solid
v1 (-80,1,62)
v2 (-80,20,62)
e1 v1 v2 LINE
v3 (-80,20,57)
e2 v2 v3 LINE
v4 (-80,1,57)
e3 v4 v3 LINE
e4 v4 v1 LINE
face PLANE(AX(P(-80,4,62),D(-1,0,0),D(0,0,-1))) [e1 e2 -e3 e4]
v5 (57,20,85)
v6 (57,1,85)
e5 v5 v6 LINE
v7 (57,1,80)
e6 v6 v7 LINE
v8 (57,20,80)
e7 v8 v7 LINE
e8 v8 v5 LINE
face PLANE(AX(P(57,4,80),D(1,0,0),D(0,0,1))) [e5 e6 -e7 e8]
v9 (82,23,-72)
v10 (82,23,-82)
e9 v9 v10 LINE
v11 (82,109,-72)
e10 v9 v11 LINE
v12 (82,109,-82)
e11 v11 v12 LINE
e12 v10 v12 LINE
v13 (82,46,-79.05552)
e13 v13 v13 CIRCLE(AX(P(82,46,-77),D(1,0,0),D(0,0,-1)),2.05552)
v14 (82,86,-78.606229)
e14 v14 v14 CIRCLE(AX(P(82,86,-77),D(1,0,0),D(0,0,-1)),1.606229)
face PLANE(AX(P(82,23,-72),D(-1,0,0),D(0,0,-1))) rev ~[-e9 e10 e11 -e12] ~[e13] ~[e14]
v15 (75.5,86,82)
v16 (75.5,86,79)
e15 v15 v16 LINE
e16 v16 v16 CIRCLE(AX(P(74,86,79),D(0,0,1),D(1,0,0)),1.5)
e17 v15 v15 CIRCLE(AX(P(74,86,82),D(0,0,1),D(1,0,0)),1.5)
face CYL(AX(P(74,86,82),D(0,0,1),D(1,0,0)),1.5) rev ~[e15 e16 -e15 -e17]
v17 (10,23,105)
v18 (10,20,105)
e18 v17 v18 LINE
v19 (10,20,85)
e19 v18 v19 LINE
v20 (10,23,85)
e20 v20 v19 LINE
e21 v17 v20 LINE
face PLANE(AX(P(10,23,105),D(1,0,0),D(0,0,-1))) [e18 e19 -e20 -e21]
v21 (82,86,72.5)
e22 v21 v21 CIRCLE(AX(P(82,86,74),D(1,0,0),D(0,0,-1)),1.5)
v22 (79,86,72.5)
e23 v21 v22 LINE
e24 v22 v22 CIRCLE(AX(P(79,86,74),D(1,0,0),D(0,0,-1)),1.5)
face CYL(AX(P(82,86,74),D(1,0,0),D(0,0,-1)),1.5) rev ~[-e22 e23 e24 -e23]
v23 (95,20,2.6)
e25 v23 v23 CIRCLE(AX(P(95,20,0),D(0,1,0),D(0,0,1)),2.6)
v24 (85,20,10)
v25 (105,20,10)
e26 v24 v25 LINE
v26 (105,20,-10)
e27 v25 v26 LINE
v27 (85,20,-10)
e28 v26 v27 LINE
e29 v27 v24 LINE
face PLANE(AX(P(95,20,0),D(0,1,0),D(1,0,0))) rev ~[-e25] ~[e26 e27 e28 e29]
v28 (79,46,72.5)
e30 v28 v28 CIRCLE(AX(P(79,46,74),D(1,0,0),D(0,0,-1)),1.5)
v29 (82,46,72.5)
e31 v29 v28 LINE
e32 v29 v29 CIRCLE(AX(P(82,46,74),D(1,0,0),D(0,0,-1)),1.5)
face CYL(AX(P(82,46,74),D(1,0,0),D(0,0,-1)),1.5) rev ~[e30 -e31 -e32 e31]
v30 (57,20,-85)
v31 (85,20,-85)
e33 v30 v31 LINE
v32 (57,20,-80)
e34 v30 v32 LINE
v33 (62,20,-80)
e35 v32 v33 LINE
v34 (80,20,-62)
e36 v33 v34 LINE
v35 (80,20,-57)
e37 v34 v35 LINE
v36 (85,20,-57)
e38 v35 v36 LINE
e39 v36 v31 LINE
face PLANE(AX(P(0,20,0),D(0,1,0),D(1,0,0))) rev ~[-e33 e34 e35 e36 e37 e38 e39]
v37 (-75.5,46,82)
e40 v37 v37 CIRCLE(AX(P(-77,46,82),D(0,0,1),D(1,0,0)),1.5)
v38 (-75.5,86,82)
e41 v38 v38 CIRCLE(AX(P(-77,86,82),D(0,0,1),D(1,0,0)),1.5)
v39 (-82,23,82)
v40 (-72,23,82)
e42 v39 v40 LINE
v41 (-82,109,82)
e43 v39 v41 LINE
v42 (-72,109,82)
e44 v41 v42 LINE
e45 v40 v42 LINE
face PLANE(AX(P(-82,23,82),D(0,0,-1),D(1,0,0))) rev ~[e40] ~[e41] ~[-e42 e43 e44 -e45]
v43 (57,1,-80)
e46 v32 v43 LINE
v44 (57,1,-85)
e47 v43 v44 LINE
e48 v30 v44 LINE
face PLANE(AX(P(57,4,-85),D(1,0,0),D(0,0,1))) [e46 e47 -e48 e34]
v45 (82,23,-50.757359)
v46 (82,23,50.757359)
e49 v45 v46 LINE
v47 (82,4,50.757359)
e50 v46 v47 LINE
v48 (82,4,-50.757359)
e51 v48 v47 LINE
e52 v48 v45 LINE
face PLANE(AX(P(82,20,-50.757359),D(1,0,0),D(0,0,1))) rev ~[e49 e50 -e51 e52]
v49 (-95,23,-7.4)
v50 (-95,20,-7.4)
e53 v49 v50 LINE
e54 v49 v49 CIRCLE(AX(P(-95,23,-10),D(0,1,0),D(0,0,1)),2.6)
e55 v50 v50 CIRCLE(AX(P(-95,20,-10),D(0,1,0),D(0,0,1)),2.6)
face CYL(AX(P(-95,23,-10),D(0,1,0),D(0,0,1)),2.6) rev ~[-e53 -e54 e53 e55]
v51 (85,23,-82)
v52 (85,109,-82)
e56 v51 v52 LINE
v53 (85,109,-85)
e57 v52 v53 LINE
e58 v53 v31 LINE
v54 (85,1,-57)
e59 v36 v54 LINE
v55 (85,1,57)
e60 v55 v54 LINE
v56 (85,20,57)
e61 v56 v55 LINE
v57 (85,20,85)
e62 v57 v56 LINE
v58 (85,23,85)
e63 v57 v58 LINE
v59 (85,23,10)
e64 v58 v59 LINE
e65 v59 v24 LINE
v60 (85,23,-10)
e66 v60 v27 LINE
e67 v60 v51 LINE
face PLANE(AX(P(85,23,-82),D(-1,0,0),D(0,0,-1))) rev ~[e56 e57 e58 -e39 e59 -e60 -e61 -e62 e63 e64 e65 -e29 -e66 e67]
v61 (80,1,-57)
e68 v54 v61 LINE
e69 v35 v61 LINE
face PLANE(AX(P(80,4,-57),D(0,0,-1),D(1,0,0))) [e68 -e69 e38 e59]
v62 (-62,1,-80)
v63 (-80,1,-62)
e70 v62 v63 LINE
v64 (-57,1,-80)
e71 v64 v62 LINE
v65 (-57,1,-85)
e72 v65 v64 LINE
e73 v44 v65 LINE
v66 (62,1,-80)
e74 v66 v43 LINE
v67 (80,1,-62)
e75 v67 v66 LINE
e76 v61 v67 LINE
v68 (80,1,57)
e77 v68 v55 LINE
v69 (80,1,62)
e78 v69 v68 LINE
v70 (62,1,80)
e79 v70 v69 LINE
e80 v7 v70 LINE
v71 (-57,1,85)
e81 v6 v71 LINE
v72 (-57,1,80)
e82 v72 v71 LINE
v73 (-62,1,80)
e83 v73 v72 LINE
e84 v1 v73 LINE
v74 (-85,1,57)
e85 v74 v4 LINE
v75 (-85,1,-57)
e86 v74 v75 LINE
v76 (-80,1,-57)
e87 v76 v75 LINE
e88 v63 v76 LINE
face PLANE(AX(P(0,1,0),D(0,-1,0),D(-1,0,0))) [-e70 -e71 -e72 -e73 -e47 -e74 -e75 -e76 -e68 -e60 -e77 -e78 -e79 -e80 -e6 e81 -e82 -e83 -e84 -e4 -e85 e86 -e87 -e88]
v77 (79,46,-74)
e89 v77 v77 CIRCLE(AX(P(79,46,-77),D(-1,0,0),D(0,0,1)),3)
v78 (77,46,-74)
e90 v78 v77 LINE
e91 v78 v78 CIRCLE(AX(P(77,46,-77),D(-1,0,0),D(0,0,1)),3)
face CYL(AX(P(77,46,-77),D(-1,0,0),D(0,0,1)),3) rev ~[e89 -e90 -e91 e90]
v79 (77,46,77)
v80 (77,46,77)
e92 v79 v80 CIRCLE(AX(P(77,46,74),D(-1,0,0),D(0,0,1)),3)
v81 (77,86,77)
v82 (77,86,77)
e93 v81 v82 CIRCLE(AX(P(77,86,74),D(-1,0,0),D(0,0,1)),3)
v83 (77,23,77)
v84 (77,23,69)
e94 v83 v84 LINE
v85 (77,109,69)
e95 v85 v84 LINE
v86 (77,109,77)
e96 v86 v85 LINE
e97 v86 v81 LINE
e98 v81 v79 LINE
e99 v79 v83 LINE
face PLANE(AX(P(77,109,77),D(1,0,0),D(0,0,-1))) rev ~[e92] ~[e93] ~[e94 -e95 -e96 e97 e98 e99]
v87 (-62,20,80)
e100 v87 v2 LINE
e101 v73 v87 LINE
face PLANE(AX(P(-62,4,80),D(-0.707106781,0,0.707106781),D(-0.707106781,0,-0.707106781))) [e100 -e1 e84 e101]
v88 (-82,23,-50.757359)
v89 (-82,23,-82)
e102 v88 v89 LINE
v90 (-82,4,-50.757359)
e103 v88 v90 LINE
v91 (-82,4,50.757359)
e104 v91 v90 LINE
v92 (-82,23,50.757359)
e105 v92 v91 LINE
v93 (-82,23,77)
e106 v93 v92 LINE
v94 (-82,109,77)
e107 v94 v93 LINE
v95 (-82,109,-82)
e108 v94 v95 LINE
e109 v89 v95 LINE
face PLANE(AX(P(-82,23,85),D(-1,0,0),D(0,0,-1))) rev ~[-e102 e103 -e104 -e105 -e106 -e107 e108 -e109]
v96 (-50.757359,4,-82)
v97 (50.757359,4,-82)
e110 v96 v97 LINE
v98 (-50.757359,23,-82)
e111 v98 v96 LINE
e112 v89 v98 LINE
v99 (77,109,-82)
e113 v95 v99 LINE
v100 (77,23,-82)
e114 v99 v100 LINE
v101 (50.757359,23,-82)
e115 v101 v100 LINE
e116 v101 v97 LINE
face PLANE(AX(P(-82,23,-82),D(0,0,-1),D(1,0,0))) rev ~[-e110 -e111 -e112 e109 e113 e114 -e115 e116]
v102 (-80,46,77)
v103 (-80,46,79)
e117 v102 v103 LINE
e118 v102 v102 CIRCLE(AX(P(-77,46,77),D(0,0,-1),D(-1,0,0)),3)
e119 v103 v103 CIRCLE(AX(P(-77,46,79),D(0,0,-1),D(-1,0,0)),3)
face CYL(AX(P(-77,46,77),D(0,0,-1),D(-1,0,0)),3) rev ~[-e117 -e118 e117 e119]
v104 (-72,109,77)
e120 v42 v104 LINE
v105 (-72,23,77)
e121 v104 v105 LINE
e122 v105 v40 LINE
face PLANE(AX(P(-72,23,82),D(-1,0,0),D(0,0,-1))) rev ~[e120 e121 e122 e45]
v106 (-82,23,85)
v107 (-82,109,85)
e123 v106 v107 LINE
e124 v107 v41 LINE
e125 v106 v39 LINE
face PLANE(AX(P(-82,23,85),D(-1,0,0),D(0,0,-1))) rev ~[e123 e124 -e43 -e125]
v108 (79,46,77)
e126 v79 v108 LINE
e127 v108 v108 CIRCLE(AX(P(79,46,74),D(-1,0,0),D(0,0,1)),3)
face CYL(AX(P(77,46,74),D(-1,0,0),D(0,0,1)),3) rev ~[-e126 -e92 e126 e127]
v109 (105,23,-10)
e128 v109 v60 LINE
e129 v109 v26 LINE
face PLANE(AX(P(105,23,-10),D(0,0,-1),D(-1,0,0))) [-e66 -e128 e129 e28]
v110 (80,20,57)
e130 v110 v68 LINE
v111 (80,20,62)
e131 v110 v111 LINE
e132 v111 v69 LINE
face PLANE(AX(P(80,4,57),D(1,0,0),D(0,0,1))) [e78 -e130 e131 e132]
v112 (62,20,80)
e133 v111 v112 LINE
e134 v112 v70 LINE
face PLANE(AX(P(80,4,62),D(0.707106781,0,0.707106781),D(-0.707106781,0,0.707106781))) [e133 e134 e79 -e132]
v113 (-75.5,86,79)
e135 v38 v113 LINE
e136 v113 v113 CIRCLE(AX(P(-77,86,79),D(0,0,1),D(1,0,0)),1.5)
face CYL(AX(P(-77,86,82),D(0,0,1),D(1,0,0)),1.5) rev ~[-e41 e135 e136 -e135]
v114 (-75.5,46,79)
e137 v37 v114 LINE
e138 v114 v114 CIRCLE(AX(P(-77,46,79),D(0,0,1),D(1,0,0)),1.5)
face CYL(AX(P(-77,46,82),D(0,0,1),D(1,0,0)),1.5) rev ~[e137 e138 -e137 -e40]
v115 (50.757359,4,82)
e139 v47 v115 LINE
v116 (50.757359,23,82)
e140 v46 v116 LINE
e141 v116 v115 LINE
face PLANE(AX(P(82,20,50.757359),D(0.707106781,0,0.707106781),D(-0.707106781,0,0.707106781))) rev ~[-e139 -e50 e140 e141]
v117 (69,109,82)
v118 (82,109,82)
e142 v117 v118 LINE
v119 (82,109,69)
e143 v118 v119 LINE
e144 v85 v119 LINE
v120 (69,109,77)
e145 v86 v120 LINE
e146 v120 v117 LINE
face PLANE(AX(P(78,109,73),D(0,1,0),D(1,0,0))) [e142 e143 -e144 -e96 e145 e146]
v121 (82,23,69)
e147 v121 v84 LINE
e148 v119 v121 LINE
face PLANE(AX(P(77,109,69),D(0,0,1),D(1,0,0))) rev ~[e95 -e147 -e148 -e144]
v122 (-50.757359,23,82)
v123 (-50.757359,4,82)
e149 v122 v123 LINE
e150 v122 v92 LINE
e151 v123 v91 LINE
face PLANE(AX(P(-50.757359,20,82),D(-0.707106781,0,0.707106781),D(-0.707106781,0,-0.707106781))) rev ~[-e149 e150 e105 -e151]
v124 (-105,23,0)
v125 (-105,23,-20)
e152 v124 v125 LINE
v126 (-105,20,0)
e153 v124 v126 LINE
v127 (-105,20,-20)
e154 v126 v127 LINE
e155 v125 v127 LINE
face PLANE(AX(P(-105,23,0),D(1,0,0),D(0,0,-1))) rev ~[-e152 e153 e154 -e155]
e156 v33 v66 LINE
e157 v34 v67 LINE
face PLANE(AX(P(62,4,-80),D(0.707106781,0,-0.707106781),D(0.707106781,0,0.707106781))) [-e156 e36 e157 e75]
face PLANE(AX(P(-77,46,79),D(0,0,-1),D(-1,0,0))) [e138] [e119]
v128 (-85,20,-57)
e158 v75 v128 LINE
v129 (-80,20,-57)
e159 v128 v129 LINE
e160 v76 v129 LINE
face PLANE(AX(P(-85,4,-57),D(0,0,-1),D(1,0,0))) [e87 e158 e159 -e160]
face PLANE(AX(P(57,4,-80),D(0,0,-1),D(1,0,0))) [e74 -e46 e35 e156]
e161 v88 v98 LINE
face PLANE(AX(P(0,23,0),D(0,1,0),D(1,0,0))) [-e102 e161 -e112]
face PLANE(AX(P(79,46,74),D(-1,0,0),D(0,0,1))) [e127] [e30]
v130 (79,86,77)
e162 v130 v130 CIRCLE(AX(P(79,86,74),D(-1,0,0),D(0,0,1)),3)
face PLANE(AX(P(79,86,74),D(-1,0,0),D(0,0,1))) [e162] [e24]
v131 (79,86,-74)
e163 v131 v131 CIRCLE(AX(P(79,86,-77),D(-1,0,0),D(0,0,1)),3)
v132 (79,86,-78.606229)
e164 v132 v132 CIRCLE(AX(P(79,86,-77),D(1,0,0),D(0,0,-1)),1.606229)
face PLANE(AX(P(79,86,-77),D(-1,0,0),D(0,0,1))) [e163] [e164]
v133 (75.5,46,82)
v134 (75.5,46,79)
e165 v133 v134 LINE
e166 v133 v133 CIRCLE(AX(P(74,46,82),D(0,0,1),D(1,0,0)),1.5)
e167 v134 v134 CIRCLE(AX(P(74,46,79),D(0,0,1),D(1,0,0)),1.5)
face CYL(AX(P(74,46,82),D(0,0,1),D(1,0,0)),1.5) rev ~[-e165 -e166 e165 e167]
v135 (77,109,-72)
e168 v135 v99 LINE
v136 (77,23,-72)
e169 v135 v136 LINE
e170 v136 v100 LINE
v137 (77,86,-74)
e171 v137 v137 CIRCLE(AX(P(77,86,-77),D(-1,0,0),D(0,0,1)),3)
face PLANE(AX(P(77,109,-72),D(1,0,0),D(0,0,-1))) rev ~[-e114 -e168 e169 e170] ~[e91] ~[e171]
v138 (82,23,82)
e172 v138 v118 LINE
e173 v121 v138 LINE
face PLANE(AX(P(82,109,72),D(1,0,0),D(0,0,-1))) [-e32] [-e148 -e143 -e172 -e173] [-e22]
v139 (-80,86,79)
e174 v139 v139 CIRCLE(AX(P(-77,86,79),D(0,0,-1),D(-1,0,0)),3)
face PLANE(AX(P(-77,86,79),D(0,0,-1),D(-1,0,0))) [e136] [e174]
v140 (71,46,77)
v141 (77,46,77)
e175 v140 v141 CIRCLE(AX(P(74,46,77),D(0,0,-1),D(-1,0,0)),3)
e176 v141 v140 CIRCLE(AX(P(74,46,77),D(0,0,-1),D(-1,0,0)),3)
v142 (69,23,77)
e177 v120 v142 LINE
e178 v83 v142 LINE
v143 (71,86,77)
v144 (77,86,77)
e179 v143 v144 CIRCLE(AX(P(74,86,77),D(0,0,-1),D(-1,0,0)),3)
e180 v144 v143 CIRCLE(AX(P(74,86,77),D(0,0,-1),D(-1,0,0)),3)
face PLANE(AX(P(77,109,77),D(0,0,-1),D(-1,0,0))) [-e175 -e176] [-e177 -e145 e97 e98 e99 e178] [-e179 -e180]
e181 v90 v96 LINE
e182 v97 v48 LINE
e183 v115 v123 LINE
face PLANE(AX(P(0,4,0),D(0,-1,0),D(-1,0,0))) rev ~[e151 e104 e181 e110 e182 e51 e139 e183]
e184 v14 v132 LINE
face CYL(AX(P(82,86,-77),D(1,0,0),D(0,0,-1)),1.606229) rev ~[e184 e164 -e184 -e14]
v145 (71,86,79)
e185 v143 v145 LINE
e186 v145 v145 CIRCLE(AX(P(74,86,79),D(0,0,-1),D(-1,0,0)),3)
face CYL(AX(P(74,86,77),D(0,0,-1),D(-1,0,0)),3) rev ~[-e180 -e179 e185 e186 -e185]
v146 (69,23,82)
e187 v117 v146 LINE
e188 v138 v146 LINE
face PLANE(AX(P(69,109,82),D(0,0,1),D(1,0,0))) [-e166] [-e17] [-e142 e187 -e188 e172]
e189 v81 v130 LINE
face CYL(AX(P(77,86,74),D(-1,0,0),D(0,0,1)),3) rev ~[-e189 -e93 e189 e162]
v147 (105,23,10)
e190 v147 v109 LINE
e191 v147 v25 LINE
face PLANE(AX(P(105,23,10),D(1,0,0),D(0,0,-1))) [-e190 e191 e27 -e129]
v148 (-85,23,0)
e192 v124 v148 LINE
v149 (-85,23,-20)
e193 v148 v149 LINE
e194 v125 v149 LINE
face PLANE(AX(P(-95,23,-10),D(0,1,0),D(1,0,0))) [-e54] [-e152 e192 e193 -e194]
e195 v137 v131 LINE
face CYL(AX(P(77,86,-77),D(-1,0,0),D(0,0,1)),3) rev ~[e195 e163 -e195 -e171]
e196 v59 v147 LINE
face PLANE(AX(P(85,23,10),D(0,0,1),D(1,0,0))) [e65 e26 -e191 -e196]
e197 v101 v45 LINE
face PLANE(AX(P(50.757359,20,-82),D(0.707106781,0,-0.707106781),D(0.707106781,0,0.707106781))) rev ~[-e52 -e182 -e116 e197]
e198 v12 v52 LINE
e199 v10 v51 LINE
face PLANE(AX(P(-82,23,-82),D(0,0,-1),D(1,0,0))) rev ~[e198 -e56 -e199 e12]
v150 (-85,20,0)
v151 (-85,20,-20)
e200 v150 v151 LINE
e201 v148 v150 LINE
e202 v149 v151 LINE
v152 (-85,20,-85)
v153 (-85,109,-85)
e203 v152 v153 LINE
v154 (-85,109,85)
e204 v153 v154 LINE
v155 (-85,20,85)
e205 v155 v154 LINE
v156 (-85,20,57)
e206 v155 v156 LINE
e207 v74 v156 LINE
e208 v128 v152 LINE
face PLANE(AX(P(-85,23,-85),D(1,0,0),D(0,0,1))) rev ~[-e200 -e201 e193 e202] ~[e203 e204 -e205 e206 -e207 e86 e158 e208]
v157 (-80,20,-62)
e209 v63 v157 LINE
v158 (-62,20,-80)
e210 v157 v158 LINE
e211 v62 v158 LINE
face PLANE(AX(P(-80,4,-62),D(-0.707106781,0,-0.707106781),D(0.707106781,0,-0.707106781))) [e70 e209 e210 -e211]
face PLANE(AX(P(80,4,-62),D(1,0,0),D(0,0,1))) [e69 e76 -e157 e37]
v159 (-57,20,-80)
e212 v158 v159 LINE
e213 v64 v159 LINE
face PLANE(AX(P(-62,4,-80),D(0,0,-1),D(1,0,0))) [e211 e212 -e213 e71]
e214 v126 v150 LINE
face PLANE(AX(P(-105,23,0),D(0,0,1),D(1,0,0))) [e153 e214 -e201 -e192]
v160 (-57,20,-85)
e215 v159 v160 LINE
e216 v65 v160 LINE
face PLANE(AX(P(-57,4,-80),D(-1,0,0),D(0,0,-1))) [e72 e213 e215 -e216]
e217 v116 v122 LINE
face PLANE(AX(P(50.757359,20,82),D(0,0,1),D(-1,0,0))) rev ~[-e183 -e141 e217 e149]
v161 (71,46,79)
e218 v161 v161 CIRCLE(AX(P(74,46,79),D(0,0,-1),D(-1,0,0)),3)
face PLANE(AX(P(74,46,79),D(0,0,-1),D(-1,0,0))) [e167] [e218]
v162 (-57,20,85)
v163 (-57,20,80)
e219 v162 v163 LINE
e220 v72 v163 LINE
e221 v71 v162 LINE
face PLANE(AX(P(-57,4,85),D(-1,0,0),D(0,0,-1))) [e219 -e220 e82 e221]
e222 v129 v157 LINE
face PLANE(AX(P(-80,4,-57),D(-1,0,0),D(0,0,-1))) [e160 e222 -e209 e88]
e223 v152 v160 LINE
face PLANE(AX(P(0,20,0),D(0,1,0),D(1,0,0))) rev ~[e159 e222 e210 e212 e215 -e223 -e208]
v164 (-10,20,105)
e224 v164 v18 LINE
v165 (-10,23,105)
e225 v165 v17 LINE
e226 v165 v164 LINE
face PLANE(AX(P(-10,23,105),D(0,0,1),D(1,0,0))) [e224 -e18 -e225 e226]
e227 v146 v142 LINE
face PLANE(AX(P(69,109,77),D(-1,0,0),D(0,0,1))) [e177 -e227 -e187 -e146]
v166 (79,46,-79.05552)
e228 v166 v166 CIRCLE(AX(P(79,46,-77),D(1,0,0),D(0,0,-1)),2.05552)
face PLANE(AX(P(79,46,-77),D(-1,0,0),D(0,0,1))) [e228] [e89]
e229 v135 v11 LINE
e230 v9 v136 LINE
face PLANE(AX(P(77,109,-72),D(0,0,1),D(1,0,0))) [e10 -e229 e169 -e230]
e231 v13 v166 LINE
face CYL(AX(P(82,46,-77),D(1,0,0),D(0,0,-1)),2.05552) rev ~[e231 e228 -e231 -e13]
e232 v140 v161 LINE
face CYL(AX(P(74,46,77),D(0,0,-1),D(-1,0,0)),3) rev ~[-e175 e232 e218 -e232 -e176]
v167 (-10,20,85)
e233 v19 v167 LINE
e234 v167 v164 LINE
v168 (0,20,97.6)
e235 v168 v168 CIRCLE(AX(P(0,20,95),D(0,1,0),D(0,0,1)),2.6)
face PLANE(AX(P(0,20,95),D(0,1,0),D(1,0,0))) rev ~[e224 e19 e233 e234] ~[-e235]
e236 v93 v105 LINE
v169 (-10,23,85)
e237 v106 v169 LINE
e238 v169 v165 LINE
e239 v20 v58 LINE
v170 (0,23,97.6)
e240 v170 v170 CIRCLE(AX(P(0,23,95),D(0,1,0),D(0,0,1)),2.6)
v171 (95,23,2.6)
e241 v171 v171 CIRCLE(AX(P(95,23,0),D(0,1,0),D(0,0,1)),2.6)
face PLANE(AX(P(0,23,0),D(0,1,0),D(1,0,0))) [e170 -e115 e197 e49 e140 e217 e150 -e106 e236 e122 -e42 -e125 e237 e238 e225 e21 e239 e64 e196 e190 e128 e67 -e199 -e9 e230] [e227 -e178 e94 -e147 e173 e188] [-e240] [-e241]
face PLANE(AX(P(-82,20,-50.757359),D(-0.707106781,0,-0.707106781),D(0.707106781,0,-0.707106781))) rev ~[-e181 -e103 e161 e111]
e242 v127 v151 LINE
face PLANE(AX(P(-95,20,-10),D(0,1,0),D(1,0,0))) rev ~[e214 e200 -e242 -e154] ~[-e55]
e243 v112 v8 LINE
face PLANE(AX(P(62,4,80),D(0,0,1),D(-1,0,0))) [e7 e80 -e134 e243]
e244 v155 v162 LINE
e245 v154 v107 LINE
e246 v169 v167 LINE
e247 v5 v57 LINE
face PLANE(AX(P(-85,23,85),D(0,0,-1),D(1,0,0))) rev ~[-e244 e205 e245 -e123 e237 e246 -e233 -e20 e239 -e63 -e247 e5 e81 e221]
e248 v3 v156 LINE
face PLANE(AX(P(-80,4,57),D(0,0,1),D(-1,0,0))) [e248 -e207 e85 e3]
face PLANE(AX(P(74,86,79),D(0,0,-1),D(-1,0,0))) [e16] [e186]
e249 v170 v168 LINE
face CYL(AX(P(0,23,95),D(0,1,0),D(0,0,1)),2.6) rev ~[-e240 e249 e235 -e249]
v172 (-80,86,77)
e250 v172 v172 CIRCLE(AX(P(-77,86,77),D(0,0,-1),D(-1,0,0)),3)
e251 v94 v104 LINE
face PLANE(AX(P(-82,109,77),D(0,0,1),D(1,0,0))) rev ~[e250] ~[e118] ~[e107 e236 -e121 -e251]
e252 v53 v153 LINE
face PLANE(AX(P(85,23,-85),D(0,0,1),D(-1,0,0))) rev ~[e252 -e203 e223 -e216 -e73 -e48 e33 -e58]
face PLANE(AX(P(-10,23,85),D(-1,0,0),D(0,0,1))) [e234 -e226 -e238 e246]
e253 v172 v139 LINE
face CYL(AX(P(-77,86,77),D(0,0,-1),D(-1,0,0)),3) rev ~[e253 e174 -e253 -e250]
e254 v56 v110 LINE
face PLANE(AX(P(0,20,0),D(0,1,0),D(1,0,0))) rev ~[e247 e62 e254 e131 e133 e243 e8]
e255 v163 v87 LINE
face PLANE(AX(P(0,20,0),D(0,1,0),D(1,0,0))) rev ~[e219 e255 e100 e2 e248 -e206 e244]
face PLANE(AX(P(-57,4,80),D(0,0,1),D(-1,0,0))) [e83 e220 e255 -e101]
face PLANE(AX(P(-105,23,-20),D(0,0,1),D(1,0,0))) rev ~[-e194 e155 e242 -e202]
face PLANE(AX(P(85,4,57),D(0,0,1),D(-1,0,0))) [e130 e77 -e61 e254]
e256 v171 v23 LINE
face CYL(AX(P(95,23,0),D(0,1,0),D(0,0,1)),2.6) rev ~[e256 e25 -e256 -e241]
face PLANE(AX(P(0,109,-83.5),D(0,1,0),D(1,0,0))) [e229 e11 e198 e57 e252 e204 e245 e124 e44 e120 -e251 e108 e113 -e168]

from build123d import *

# Parameters (mm, degrees)
EXTRUDE_1_DEPTH      = 4
EXTRUDE_2_DEPTH      = 16
SKETCH_3_W           = 170
SKETCH_3_H           = 170
CUT_EXTRUDE_2_DEPTH  = 1
EXTRUDE_3_DEPTH      = 3
EXTRUDE_4_DEPTH      = 86
SKETCH_7_W           = 10
SKETCH_7_H           = 3
SKETCH_7_W_2         = 3
SKETCH_7_H_2         = 10
EXTRUDE_6_DEPTH      = 86
SKETCH_8_R           = 1.5
CUT_EXTRUDE_3_DEPTH  = 86
SKETCH_9_R           = 1.606229087
SKETCH_9_R_2         = 2.055519853
CUT_EXTRUDE_4_DEPTH  = 86
SKETCH_10_W          = 3
SKETCH_10_H          = 3
EXTRUDE_7_DEPTH      = 86
SKETCH_11_R          = 1.5
CUT_EXTRUDE_5_DEPTH  = 86
EXTRUDE_8_DEPTH      = 86
SKETCH_13_R          = 1.5
CUT_EXTRUDE_6_DEPTH  = 86
SKETCH_14_R          = 3
CUT_EXTRUDE_7_DEPTH  = 2
SKETCH_15_R          = 1.5
CUT_EXTRUDE_8_DEPTH  = 5
SKETCH_16_R          = 3
CUT_EXTRUDE_9_DEPTH  = 2
SKETCH_17_W          = 10
SKETCH_17_H          = 2
SKETCH_17_W_2        = 2
SKETCH_17_H_2        = 10
EXTRUDE_9_DEPTH      = 86
SKETCH_18_R          = 3
CUT_EXTRUDE_10_DEPTH = 2
SKETCH_19_R          = 3
CUT_EXTRUDE_11_DEPTH = 2
SKETCH_22_W          = 20
SKETCH_22_H          = 20
SKETCH_22_R          = 2.6
EXTRUDE_10_DEPTH     = 3


with BuildPart() as part:
    # 草图1 → 凸台-拉伸1 (new body)
    with BuildSketch(Plane(origin=(0, 0, 0), x_dir=(1, 0, 0), z_dir=(0, 1, 0))):
        Polygon((-80, 62), (-62, 80), (-57, 80), (-57, 85), (57, 85), (57, 80), (62, 80), (80, 62), (80, 57), (85, 57), (85, -57), (80, -57), (80, -62), (62, -80), (57, -80), (57, -85), (-57, -85), (-57, -80), (-62, -80), (-80, -62), (-80, -57), (-85, -57), (-85, 57), (-80, 57), align=None)
    extrude(amount=EXTRUDE_1_DEPTH)

    # 草图2 → 凸台-拉伸2 (add)
    with BuildSketch(Plane(origin=(0, 4, 0), x_dir=(1, 0, 0), z_dir=(0, 1, 0))):
        Polygon((-57, 85), (57, 85), (57, 80), (62, 80), (80, 62), (80, 57), (85, 57), (85, -57), (80, -57), (80, -62), (62, -80), (57, -80), (57, -85), (-57, -85), (-57, -80), (-62, -80), (-80, -62), (-80, -57), (-85, -57), (-85, 57), (-80, 57), (-80, 62), (-62, 80), (-57, 80), align=None)
        Polygon((-82, 50.757359313), (-50.757359313, 82), (50.757359313, 82), (82, 50.757359313), (82, -50.757359313), (50.757359313, -82), (-50.757359313, -82), (-82, -50.757359313), align=None, mode=Mode.SUBTRACT)
    extrude(amount=EXTRUDE_2_DEPTH)

    # 草图3 → 切除-拉伸2 (cut)
    with BuildSketch(Plane(origin=(0, 0, 0), x_dir=(-1, 0, 0), z_dir=(0, -1, 0))):
        Rectangle(SKETCH_3_W, SKETCH_3_H)
    extrude(amount=-CUT_EXTRUDE_2_DEPTH, mode=Mode.SUBTRACT)

    # 草图4 → 凸台-拉伸3 (add)
    with BuildSketch(Plane(origin=(0, 20, 0), x_dir=(1, 0, 0), z_dir=(0, 1, 0))):
        Polygon((85, 85), (-57, 85), (-85, 85), (-85, -85), (57, -85), (85, -85), align=None)
        Polygon((82, 50.757359313), (82, -50.757359313), (50.757359313, -82), (-50.757359313, -82), (-82, -50.757359313), (-82, 50.757359313), (-50.757359313, 82), (50.757359313, 82), align=None, mode=Mode.SUBTRACT)
    extrude(amount=EXTRUDE_3_DEPTH)

    # 草图5 → 凸台-拉伸4 (add)
    with BuildSketch(Plane(origin=(0, 23, 0), x_dir=(1, 0, 0), z_dir=(0, 1, 0))):
        Polygon((85, 85), (-85, 85), (-85, -85), (-82, -85), (-82, 82), (85, 82), align=None)
    extrude(amount=EXTRUDE_4_DEPTH)

    # 草图7 → 凸台-拉伸6 (add)
    with BuildSketch(Plane(origin=(0, 23, 0), x_dir=(1, 0, 0), z_dir=(0, 1, 0))):
        with Locations((-77, -80.5)):
            Rectangle(SKETCH_7_W, SKETCH_7_H)
        with Locations((80.5, 77)):
            Rectangle(SKETCH_7_W_2, SKETCH_7_H_2)
        Polygon((72, -79), (72, -82), (82, -82), (82, -72), (79, -72), (79, -79), align=None)
    extrude(amount=EXTRUDE_6_DEPTH)

    # 草图8 → 切除-拉伸3 (cut)
    with BuildSketch(Plane.XY.offset(82)):
        with Locations((-77, 86)):
            Circle(SKETCH_8_R)
        with Locations((-77, 46)):
            Circle(SKETCH_8_R)
    extrude(amount=-CUT_EXTRUDE_3_DEPTH, mode=Mode.SUBTRACT)

    # 草图9 → 切除-拉伸4 (cut)
    with BuildSketch(Plane(origin=(82, 0, 0), x_dir=(0, 0, -1), z_dir=(1, 0, 0))):
        with Locations((77, 86)):
            Circle(SKETCH_9_R)
        with Locations((77, 46)):
            Circle(SKETCH_9_R_2)
    extrude(amount=-CUT_EXTRUDE_4_DEPTH, mode=Mode.SUBTRACT)

    # 草图10 → 凸台-拉伸7 (add)
    with BuildSketch(Plane(origin=(0, 109, 0), x_dir=(1, 0, 0), z_dir=(0, 1, 0))):
        with Locations((80.5, -70.5)):
            Rectangle(SKETCH_10_W, SKETCH_10_H)
        with Locations((70.5, -80.5)):
            Rectangle(SKETCH_10_W, SKETCH_10_H)
    extrude(amount=-EXTRUDE_7_DEPTH)

    # 草图11 → 切除-拉伸5 (cut)
    with BuildSketch(Plane.XY.offset(82)):
        with Locations((74, 86)):
            Circle(SKETCH_11_R)
        with Locations((74, 46)):
            Circle(SKETCH_11_R)
    extrude(amount=-CUT_EXTRUDE_5_DEPTH, mode=Mode.SUBTRACT)

    # 草图12 → 凸台-拉伸8 (add)
    with BuildSketch(Plane(origin=(0, 109, 0), x_dir=(1, 0, 0), z_dir=(0, 1, 0))):
        Polygon((69, -77), (69, -79), (79, -79), (79, -69), (77, -69), (77, -77), align=None)
    extrude(amount=-EXTRUDE_8_DEPTH)

    # 草图13 → 切除-拉伸6 (cut)
    with BuildSketch(Plane.XY.offset(82)):
        with Locations((74, 86)):
            Circle(SKETCH_13_R)
        with Locations((74, 46)):
            Circle(SKETCH_13_R)
    extrude(amount=-CUT_EXTRUDE_6_DEPTH, mode=Mode.SUBTRACT)

    # 草图14 → 切除-拉伸7 (cut)
    with BuildSketch(Plane(origin=(0, 0, 77), x_dir=(-1, 0, 0), z_dir=(0, 0, -1))):
        with Locations((-74, 86)):
            Circle(SKETCH_14_R)
        with Locations((-74, 46)):
            Circle(SKETCH_14_R)
    extrude(amount=-CUT_EXTRUDE_7_DEPTH, mode=Mode.SUBTRACT)

    # 草图15 → 切除-拉伸8 (cut)
    with BuildSketch(Plane(origin=(82, 0, 0), x_dir=(0, 0, -1), z_dir=(1, 0, 0))):
        with Locations((-74, 86)):
            Circle(SKETCH_15_R)
        with Locations((-74, 46)):
            Circle(SKETCH_15_R)
    extrude(amount=-CUT_EXTRUDE_8_DEPTH, mode=Mode.SUBTRACT)

    # 草图16 → 切除-拉伸9 (cut)
    with BuildSketch(Plane.ZY.offset(-77)):
        with Locations((74, 86)):
            Circle(SKETCH_16_R)
        with Locations((74, 46)):
            Circle(SKETCH_16_R)
    extrude(amount=-CUT_EXTRUDE_9_DEPTH, mode=Mode.SUBTRACT)

    # 草图17 → 凸台-拉伸9 (add)
    with BuildSketch(Plane(origin=(0, 109, 0), x_dir=(1, 0, 0), z_dir=(0, 1, 0))):
        with Locations((-77, -78)):
            Rectangle(SKETCH_17_W, SKETCH_17_H)
        with Locations((78, 77)):
            Rectangle(SKETCH_17_W_2, SKETCH_17_H_2)
    extrude(amount=-EXTRUDE_9_DEPTH)

    # 草图18 → 切除-拉伸10 (cut)
    with BuildSketch(Plane.ZY.offset(-77)):
        with Locations((-77, 86)):
            Circle(SKETCH_18_R)
        with Locations((-77, 46)):
            Circle(SKETCH_18_R)
    extrude(amount=-CUT_EXTRUDE_10_DEPTH, mode=Mode.SUBTRACT)

    # 草图19 → 切除-拉伸11 (cut)
    with BuildSketch(Plane(origin=(0, 0, 77), x_dir=(-1, 0, 0), z_dir=(0, 0, -1))):
        with Locations((77, 86)):
            Circle(SKETCH_19_R)
        with Locations((77, 46)):
            Circle(SKETCH_19_R)
    extrude(amount=-CUT_EXTRUDE_11_DEPTH, mode=Mode.SUBTRACT)

    # 草图22 → 凸台-拉伸10 (add)
    # profile 1 of 3: a face of its own
    with BuildSketch(Plane(origin=(0, 23, 0), x_dir=(1, 0, 0), z_dir=(0, 1, 0))):
        with Locations((-95, 10)):
            Rectangle(SKETCH_22_W, SKETCH_22_H)
        with Locations((-95, 10)):
            Circle(SKETCH_22_R, mode=Mode.SUBTRACT)
    # profile 2 of 3: a face of its own
    with BuildSketch(Plane(origin=(0, 23, 0), x_dir=(1, 0, 0), z_dir=(0, 1, 0))):
        with Locations((95, 0)):
            Rectangle(SKETCH_22_W, SKETCH_22_H)
        with Locations((95, 0)):
            Circle(SKETCH_22_R, mode=Mode.SUBTRACT)
    # profile 3 of 3: a face of its own
    with BuildSketch(Plane(origin=(0, 23, 0), x_dir=(1, 0, 0), z_dir=(0, 1, 0))):
        with Locations((0, -95)):
            Rectangle(SKETCH_22_W, SKETCH_22_H)
        with Locations((0, -95)):
            Circle(SKETCH_22_R, mode=Mode.SUBTRACT)
    extrude(amount=-EXTRUDE_10_DEPTH)


solid = part.part
